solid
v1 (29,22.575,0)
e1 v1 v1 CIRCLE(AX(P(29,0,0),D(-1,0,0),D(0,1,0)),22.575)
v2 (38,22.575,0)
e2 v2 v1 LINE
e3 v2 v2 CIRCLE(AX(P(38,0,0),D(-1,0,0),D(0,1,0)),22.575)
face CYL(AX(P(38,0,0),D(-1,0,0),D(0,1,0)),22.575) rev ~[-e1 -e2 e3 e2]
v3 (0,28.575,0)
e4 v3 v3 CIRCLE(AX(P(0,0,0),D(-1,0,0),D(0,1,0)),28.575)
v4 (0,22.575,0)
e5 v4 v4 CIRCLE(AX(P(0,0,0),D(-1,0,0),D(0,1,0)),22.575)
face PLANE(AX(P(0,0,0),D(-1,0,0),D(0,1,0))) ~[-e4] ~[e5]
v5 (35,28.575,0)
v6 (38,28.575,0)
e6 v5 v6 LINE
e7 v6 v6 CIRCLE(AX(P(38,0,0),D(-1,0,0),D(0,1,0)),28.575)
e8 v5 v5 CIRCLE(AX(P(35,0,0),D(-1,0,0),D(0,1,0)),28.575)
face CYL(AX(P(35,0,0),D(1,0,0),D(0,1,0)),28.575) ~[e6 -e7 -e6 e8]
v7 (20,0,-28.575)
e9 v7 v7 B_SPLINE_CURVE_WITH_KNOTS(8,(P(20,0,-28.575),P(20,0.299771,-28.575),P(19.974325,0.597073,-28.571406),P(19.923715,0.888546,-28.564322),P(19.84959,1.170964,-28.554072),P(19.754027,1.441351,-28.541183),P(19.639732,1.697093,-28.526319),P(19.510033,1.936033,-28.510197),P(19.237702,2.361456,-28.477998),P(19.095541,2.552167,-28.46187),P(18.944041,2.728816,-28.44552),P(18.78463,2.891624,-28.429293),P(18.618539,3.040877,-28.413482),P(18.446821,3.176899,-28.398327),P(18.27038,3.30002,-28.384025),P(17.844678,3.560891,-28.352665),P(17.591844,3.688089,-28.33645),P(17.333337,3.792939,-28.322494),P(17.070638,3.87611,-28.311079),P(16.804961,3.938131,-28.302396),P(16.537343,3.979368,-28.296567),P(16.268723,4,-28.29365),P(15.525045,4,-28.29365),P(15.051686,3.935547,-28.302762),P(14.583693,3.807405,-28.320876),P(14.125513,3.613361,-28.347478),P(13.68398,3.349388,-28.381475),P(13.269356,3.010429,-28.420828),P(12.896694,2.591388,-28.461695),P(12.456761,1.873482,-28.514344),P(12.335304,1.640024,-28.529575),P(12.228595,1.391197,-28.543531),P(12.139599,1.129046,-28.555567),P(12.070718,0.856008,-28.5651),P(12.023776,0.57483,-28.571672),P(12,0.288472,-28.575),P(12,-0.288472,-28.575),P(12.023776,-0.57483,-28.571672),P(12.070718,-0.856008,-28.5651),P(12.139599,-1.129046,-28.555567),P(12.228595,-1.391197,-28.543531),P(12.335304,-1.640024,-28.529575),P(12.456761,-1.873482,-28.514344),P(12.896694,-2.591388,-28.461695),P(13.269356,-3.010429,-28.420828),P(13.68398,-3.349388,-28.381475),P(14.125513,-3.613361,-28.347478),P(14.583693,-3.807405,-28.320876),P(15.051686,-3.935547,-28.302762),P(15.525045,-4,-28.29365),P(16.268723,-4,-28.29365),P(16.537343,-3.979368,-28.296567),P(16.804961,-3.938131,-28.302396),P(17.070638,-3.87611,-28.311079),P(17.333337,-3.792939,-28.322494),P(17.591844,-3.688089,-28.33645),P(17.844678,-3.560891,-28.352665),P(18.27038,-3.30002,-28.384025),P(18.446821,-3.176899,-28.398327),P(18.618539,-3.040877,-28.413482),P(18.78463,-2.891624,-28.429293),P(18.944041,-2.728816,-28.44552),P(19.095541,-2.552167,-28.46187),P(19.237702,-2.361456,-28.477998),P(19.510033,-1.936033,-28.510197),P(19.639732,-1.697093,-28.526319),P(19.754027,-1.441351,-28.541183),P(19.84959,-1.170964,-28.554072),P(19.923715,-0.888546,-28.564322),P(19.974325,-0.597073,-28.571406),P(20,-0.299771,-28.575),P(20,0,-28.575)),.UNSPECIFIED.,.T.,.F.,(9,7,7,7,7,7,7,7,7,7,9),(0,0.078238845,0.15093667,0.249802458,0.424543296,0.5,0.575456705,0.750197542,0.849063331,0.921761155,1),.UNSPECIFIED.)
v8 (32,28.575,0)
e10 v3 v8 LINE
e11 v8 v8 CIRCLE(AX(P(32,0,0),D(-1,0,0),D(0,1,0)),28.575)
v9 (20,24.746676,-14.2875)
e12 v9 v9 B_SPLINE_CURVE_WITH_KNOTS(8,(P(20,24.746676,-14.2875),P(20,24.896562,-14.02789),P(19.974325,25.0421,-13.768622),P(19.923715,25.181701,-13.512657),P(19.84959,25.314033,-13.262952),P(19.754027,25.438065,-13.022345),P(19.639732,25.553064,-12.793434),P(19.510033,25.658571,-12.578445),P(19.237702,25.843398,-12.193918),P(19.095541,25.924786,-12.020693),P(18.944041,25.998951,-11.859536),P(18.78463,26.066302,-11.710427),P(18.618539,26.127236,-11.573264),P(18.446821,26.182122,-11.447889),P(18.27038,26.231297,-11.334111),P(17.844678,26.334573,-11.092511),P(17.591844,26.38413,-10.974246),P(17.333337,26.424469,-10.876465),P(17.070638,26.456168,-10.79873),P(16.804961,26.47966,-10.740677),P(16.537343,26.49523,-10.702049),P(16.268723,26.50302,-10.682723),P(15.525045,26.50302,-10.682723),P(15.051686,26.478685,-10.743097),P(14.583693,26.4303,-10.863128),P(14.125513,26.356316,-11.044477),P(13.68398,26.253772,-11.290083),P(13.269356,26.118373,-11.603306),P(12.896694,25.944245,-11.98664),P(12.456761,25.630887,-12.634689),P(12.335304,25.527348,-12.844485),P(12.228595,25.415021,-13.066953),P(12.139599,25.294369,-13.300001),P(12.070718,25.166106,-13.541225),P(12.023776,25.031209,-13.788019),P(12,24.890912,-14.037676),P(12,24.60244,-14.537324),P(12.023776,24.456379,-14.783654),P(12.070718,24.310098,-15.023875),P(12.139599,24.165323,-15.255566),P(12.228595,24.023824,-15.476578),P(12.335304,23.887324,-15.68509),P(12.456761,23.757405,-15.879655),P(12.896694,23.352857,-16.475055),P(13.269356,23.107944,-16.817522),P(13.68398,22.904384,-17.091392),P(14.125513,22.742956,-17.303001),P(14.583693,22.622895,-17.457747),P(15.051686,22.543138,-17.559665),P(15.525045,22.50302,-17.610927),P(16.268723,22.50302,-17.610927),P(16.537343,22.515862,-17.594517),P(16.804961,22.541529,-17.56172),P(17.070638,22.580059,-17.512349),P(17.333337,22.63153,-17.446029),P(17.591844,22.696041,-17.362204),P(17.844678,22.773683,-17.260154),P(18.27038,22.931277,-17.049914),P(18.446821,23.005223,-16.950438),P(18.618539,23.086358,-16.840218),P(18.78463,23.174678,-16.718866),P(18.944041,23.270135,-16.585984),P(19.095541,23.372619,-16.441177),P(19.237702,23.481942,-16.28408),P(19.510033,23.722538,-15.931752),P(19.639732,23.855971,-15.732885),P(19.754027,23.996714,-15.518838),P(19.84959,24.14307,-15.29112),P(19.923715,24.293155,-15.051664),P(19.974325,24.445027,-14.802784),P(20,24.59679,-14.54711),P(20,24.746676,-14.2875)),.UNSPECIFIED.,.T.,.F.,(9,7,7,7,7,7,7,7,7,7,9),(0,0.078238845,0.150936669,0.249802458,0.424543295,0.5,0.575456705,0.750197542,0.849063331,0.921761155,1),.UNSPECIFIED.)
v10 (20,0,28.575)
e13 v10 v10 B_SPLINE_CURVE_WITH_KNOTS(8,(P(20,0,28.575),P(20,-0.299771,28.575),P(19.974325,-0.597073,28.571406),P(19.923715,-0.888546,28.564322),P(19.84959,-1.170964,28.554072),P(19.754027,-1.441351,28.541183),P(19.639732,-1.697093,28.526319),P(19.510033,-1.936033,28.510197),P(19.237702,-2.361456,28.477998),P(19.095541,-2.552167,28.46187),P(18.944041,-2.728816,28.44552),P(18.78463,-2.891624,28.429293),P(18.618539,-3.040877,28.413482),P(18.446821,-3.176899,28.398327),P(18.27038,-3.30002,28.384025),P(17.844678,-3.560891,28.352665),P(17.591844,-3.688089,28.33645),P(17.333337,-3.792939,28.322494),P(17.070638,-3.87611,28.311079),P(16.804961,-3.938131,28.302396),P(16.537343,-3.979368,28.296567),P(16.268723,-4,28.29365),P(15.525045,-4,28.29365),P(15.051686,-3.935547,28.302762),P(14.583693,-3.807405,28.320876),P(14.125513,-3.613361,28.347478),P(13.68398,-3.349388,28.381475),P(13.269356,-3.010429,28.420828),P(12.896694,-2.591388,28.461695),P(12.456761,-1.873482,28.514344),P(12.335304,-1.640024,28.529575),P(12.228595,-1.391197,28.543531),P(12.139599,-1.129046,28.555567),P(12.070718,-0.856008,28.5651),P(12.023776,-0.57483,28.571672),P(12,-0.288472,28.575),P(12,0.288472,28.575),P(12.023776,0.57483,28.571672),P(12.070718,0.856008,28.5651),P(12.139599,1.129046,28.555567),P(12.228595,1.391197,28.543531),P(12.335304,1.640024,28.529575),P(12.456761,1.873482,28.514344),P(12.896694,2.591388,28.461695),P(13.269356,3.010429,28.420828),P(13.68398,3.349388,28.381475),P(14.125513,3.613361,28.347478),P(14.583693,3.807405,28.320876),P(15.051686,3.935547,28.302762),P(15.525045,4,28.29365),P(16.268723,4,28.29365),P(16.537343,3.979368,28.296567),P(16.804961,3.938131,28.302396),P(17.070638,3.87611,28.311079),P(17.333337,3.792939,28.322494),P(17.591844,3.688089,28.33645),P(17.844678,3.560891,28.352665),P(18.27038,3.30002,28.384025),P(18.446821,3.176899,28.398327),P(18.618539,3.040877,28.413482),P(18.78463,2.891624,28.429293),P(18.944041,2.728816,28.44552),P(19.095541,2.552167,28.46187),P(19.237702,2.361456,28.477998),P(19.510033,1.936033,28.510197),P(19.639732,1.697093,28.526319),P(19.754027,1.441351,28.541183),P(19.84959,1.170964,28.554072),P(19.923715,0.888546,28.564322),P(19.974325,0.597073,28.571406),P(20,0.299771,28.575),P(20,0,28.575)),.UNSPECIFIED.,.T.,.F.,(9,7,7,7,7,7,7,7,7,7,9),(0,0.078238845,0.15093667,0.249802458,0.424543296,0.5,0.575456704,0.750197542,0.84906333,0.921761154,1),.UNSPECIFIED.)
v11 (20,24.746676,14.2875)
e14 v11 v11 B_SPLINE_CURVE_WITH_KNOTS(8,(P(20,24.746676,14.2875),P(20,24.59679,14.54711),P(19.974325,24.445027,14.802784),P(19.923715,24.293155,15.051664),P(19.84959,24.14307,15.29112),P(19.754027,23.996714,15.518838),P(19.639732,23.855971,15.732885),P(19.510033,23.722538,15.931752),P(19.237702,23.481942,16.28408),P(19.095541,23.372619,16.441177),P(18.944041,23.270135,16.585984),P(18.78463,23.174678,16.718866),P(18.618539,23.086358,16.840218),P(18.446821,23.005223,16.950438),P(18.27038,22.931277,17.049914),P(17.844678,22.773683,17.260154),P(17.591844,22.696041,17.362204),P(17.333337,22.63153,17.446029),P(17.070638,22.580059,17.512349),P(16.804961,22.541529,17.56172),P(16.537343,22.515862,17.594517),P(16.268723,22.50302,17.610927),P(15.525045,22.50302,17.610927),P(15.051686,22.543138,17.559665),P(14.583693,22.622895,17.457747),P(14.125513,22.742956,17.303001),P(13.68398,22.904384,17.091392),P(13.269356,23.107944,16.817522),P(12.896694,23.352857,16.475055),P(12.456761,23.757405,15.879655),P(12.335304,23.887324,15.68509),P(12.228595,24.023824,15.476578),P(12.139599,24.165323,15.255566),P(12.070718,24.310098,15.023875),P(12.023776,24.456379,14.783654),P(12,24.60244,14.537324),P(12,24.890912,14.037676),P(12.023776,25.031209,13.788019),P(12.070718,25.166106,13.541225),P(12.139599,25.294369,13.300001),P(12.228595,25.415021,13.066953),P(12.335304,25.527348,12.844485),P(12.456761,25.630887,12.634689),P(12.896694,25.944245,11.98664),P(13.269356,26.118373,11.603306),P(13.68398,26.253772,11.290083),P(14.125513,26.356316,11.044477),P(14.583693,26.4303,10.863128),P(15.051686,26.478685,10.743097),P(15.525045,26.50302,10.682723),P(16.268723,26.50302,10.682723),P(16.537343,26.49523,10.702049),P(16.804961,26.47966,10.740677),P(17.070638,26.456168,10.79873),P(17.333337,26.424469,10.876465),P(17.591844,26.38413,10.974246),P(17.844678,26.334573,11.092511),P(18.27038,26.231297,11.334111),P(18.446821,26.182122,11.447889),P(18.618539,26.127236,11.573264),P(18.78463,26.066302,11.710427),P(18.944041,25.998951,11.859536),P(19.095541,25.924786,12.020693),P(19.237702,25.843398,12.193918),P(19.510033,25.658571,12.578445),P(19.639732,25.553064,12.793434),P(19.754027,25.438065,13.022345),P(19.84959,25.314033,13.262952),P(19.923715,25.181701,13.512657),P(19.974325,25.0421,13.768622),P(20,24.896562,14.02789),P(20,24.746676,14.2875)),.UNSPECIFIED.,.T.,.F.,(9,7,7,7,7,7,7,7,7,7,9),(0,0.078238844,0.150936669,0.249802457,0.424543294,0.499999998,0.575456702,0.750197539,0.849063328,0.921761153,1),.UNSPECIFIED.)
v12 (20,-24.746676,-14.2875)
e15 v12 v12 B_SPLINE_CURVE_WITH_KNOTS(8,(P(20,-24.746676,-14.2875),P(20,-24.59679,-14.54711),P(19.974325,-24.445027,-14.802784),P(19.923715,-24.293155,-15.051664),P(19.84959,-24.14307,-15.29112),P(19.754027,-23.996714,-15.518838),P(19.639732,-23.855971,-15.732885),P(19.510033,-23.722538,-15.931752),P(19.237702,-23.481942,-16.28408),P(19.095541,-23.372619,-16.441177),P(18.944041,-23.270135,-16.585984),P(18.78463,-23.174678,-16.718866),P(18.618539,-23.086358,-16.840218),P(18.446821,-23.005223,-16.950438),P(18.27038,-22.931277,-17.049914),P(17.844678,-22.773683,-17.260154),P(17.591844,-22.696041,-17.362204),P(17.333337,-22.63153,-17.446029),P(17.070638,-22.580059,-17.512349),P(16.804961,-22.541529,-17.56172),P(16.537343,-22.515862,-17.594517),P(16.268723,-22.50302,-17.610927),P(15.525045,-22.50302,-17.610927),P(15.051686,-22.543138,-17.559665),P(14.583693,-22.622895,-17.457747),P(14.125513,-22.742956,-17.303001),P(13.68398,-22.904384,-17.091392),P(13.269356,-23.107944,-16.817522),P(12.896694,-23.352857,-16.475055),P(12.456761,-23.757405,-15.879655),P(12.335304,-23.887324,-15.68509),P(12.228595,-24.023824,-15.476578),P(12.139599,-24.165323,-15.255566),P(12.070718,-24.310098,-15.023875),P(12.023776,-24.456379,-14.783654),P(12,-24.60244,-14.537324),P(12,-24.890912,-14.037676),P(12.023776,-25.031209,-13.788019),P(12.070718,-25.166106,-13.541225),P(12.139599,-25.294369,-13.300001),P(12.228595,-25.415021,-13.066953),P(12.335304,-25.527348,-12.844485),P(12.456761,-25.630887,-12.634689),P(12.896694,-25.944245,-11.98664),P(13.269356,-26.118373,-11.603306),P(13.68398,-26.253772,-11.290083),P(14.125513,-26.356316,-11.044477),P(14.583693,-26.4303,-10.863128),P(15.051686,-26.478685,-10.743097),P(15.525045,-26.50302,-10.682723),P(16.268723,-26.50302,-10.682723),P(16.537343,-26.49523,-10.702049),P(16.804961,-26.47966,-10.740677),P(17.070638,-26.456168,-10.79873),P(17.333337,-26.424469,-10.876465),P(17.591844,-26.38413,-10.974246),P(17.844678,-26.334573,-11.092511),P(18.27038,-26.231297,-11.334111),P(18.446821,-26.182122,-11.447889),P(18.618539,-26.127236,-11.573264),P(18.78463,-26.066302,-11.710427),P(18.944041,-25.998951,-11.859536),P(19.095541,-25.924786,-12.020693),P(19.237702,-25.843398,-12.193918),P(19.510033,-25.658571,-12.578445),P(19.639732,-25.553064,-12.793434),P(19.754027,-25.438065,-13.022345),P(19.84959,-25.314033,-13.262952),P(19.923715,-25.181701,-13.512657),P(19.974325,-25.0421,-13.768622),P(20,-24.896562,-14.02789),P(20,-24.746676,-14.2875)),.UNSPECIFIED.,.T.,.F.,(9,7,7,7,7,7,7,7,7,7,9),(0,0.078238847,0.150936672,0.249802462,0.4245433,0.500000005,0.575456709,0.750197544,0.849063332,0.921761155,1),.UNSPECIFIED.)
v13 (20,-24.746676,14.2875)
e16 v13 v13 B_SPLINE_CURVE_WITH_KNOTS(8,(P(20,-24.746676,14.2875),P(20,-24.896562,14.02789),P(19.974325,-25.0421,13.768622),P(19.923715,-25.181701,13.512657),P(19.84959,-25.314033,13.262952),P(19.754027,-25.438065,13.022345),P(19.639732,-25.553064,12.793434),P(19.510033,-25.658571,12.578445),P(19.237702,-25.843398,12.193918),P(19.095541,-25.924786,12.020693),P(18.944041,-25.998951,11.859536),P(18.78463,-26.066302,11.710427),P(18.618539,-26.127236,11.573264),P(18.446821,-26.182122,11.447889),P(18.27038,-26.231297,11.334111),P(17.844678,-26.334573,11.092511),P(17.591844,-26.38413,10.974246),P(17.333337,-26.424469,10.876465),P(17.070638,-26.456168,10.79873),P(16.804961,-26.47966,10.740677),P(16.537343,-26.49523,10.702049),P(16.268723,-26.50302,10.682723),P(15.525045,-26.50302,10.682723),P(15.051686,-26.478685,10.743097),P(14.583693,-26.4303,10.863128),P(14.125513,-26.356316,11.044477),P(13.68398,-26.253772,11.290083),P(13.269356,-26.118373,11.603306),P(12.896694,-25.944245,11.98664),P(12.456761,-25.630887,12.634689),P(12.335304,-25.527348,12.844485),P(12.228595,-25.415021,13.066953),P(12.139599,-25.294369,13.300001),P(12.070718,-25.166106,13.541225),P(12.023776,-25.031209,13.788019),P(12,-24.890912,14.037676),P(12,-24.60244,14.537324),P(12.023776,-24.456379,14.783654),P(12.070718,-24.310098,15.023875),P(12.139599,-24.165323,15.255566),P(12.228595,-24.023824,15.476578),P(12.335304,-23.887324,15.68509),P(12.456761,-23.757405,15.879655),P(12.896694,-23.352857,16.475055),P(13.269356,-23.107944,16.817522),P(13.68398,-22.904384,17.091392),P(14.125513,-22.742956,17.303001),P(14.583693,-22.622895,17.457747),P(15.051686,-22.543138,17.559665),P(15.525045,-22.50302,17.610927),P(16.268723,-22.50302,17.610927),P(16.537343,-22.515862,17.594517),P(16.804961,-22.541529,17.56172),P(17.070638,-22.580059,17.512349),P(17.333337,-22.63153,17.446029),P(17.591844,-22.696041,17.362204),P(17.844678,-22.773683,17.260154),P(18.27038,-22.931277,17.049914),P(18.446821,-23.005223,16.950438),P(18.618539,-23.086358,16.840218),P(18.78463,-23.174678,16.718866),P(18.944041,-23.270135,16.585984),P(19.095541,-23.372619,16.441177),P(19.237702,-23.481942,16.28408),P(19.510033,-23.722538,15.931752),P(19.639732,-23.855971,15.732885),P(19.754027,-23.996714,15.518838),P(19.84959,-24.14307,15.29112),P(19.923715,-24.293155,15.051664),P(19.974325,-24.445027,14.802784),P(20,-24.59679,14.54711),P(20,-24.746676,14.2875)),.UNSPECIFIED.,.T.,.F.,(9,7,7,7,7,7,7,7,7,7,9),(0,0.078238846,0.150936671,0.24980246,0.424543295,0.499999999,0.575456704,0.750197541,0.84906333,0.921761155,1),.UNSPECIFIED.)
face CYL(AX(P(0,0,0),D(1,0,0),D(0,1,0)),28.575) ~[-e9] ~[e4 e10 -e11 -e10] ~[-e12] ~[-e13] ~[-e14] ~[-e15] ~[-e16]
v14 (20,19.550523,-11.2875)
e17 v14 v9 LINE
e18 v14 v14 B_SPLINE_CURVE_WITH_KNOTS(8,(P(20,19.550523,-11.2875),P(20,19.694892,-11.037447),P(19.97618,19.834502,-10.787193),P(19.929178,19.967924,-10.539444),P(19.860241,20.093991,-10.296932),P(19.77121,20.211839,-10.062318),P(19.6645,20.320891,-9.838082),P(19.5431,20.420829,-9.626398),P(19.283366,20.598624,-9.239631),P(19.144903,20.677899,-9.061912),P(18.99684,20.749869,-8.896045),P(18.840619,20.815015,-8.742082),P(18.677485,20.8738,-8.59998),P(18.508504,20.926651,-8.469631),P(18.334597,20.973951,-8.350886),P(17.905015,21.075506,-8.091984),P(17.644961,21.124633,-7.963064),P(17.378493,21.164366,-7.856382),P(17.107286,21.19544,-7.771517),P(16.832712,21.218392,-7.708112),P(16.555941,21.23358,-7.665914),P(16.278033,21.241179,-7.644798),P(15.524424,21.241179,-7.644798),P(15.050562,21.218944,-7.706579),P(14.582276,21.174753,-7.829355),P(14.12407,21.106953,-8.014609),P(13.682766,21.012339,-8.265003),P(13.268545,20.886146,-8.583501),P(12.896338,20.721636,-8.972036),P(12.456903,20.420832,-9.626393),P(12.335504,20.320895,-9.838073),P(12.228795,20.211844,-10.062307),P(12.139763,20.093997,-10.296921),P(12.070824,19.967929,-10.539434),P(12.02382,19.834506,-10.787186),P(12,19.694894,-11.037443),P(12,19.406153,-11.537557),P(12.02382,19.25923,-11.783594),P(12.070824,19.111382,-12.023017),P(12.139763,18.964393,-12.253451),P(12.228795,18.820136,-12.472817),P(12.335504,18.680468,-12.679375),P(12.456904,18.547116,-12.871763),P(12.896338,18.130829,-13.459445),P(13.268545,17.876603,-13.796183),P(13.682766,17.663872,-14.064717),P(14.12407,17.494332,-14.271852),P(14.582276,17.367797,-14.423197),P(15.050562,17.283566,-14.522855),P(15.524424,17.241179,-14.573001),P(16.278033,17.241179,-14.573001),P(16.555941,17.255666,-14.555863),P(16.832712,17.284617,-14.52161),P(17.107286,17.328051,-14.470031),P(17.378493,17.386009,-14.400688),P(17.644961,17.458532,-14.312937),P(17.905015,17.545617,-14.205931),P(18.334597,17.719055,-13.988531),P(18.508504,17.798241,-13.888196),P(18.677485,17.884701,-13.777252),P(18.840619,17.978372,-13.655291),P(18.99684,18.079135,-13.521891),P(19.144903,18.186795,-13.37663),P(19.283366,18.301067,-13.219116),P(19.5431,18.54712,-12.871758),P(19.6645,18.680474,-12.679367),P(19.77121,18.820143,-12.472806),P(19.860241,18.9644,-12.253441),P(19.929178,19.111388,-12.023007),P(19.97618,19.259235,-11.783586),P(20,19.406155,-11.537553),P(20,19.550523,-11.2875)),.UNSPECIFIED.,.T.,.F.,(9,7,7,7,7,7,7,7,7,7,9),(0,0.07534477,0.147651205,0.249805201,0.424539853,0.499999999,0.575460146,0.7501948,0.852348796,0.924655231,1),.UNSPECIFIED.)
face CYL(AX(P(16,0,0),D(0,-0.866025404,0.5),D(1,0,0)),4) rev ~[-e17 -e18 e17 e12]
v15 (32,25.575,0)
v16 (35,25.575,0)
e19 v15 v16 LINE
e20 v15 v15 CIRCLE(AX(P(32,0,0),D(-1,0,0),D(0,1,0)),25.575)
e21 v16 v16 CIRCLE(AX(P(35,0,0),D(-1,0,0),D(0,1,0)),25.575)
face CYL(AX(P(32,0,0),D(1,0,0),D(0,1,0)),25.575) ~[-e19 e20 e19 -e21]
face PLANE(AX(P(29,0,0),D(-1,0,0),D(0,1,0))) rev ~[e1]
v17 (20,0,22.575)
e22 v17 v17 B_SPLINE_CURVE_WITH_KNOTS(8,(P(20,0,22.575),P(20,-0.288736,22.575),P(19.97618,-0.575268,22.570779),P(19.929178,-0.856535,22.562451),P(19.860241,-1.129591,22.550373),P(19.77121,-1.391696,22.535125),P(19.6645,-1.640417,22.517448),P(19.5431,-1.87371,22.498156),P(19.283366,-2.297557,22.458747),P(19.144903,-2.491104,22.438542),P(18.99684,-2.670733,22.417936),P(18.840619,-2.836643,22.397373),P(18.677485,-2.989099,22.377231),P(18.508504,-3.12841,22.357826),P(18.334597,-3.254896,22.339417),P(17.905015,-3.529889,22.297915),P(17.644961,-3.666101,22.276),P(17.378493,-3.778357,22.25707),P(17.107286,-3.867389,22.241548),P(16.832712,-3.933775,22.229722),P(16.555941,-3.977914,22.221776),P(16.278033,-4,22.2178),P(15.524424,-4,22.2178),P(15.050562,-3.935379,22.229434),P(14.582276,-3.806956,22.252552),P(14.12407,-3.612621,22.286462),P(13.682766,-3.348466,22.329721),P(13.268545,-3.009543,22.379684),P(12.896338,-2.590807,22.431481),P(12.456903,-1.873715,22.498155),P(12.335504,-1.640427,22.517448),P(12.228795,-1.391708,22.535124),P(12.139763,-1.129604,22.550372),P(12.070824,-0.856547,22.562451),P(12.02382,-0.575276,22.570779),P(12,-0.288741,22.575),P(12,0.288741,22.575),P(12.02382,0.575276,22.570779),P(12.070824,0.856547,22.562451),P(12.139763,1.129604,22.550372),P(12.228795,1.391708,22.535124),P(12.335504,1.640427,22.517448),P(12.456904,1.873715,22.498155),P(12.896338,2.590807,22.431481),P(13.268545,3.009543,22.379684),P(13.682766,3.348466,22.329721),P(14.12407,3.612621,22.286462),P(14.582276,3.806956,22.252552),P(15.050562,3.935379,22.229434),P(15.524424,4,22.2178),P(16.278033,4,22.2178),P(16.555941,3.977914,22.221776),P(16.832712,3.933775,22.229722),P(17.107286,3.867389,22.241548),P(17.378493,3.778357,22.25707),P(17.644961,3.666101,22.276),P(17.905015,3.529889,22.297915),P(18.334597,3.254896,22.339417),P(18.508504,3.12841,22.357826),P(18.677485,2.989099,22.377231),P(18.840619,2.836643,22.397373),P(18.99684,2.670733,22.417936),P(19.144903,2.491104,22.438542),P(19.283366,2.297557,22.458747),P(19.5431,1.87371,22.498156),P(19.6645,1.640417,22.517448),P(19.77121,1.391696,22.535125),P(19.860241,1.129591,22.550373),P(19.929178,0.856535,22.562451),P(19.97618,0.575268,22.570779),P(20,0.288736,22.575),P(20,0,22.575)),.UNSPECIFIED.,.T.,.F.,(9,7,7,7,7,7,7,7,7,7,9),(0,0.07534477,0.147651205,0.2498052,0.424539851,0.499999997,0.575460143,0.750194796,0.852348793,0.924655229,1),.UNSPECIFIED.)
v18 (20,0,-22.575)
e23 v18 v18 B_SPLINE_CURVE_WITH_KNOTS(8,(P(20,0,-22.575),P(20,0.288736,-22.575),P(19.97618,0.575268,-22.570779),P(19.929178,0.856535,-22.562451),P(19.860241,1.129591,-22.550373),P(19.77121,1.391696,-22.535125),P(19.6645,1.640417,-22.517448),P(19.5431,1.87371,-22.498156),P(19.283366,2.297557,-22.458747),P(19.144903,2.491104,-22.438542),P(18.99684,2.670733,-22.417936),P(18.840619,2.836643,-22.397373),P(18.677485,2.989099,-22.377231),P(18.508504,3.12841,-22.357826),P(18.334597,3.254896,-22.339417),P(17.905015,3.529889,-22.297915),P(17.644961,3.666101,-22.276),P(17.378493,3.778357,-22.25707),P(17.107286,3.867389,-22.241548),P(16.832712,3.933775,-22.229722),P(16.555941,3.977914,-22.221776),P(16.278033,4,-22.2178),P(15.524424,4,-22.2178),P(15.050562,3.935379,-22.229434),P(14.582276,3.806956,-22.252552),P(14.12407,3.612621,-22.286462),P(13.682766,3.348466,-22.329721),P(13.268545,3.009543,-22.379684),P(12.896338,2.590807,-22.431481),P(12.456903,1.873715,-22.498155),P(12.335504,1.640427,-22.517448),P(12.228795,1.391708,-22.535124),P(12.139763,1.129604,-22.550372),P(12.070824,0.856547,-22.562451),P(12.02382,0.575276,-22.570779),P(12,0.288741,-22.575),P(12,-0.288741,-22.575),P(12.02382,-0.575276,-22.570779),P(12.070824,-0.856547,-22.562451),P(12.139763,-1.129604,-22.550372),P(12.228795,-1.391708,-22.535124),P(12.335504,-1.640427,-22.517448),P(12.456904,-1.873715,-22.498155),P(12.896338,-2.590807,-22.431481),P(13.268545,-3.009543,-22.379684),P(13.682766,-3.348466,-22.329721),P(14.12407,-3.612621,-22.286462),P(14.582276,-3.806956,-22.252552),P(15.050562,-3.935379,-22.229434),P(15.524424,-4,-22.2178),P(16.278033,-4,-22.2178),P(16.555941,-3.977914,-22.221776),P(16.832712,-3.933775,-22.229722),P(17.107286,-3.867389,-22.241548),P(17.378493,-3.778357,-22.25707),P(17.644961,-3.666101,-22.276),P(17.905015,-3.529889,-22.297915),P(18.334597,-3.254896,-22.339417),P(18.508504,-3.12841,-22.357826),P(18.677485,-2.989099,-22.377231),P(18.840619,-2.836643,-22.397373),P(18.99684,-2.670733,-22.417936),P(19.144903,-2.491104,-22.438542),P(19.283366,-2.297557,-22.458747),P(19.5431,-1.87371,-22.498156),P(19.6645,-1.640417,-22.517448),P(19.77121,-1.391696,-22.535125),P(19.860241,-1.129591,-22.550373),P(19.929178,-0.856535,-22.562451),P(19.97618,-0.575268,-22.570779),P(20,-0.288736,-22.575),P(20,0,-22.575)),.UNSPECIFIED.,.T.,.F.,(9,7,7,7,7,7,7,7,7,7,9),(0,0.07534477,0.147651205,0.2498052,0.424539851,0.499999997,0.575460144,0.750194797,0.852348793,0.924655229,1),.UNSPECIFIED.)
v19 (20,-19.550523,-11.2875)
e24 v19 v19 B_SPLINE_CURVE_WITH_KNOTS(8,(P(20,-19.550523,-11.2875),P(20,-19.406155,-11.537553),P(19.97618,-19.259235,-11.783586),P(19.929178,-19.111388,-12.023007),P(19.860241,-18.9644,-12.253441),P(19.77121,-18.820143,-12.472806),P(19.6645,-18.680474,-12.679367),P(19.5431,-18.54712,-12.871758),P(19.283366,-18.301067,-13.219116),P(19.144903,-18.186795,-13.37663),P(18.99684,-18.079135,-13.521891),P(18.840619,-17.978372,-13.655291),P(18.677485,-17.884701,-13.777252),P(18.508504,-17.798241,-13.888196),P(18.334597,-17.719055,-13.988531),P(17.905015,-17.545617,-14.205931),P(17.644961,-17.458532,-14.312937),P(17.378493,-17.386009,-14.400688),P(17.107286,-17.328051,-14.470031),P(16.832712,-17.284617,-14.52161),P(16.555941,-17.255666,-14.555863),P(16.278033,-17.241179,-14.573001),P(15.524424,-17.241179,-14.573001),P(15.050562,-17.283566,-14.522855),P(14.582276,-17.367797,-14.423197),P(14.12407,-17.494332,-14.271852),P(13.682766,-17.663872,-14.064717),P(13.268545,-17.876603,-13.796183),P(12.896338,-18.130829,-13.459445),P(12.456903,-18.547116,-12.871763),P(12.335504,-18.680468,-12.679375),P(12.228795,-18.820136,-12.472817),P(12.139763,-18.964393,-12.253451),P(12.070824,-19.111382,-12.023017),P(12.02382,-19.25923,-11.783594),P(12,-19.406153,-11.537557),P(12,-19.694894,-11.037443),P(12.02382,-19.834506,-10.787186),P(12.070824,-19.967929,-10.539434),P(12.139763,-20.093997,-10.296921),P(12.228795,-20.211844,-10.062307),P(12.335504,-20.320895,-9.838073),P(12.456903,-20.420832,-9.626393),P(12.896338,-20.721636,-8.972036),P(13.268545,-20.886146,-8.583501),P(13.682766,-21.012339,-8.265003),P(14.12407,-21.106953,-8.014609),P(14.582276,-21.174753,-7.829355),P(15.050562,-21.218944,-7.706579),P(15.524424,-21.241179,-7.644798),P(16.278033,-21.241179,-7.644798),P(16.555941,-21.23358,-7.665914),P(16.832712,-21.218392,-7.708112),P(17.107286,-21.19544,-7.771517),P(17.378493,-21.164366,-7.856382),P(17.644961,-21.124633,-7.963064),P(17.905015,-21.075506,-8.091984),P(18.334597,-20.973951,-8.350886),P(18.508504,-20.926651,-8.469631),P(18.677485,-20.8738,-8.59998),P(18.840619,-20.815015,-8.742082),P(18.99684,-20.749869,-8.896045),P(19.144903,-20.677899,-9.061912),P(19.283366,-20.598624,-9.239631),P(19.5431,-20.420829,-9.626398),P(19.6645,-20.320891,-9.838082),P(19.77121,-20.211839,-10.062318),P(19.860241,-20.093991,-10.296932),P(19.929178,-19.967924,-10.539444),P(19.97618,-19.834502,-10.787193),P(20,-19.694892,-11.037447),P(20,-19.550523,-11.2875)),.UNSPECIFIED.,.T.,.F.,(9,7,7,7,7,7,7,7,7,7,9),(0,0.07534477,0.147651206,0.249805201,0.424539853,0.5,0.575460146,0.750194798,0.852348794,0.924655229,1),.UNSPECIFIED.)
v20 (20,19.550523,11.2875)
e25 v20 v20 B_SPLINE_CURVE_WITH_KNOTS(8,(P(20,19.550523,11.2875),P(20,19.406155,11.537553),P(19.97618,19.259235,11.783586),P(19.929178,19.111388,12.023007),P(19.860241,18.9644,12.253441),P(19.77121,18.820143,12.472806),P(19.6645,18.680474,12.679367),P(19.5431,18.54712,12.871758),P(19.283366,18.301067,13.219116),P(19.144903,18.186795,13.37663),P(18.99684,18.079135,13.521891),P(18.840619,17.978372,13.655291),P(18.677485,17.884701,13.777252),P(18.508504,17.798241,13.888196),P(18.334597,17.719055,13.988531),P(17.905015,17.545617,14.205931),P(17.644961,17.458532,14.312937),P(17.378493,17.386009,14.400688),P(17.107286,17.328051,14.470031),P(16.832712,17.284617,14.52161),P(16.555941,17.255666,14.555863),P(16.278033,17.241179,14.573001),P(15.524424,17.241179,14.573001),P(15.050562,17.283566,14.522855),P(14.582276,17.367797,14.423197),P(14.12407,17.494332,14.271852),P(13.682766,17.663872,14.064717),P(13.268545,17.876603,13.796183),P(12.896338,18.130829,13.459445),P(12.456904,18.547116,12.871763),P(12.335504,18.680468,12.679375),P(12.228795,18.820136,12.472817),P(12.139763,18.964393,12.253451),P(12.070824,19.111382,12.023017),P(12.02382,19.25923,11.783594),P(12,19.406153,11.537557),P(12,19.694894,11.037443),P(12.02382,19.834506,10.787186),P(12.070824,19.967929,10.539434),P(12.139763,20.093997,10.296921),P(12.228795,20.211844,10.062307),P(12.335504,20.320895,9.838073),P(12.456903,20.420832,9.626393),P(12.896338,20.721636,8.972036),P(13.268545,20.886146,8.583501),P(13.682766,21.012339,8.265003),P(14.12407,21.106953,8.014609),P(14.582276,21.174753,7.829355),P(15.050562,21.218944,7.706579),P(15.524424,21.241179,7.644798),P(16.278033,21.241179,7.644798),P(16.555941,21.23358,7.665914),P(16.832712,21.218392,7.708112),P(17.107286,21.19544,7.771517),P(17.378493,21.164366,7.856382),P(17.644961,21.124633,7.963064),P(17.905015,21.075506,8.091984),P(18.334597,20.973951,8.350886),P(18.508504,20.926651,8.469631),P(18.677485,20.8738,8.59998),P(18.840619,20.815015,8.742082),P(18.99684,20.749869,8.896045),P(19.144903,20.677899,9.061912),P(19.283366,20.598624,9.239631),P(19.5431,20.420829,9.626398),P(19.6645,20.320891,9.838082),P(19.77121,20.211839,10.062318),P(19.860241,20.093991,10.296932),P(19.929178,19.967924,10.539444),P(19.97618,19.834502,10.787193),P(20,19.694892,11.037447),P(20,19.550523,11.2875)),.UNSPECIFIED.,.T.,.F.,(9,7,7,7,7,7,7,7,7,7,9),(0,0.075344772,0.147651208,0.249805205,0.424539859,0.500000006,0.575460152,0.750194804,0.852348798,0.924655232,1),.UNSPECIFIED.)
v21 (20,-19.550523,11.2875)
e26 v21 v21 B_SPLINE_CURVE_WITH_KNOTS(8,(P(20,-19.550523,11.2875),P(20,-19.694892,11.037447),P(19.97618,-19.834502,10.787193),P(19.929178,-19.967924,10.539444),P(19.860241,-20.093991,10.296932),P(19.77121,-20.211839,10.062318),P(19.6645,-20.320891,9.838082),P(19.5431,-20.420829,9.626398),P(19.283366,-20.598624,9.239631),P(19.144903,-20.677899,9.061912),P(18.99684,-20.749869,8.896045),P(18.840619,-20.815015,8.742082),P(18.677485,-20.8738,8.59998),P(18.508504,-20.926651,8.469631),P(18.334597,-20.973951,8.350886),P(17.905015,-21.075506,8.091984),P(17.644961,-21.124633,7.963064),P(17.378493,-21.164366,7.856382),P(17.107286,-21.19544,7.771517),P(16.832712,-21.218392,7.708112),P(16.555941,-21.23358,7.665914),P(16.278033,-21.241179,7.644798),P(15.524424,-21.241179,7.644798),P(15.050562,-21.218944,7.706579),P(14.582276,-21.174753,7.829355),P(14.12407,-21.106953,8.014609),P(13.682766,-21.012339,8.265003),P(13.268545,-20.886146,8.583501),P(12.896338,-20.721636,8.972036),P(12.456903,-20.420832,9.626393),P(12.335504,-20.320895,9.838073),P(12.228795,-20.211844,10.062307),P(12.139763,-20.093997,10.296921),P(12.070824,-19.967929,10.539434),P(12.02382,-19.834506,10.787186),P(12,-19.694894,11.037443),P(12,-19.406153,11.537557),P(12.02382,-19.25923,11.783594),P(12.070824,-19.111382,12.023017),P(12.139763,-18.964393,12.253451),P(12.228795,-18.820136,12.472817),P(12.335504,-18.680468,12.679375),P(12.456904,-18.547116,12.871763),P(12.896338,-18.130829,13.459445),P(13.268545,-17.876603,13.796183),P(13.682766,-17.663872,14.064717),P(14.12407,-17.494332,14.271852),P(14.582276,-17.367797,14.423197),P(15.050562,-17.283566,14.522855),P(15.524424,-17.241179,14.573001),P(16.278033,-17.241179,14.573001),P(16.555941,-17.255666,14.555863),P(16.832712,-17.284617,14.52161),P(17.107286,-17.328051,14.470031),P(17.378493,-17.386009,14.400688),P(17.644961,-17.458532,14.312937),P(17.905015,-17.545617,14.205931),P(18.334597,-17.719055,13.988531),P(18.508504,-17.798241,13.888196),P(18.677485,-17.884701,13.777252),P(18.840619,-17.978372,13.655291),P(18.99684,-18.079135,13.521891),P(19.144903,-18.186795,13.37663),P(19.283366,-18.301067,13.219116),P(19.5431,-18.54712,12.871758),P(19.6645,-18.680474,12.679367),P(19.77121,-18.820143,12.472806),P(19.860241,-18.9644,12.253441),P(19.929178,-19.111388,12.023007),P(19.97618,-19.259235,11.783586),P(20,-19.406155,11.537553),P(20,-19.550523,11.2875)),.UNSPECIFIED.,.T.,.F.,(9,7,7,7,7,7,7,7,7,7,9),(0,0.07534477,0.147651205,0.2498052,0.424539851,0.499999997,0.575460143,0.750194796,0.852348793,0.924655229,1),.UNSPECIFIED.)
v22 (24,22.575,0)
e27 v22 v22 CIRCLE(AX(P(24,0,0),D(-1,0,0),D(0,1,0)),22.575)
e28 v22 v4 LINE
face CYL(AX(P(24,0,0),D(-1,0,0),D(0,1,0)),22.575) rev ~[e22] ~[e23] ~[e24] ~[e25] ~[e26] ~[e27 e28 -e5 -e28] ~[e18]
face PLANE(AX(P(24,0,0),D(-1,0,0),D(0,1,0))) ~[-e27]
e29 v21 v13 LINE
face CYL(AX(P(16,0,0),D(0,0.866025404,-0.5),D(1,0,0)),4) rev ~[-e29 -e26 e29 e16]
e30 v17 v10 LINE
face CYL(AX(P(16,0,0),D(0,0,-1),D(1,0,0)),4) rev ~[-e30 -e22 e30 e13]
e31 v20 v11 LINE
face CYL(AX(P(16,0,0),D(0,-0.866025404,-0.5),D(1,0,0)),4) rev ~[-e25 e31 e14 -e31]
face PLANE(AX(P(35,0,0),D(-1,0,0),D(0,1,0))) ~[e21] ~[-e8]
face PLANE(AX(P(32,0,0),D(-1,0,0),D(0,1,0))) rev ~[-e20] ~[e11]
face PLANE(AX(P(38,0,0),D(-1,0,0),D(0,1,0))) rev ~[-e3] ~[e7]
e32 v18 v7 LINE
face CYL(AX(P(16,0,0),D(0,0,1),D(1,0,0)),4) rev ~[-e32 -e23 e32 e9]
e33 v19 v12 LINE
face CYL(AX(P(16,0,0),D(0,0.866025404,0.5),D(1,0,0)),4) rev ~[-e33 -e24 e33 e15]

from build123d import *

# Parameters (mm, degrees)
ESBO_O2_R             = 4
CORTE_EXTRUS_O1_DEPTH = 60
PADR_OCIRCULAR1_COUNT = 6


with BuildPart() as part:
    # Esboço1 → Revolução1 (revolve)
    with BuildSketch(Plane.XY):
        Polygon((35, 28.575), (38, 28.575), (38, 22.575), (29, 22.575), (29, 0), (24, 0), (24, 22.575), (0, 22.575), (0, 28.575), (32, 28.575), (32, 25.575), (35, 25.575), align=None)
    revolve(axis=Axis((0, 0, 0), (-1, 0, 0)))

    # Esboço2 → Corte-extrusão1 (cut)
    with BuildSketch(Plane.XY):
        with Locations((16, 0)):
            Circle(ESBO_O2_R)
    corte_extrus_o1 = extrude(amount=-CORTE_EXTRUS_O1_DEPTH, mode=Mode.SUBTRACT)

    # PadrãoCircular1: Corte-extrusão1 ×6 about axis
    padr_ocircular1_axis = Axis((0, 0, 0), (1, 0, 0))
    for i in range(1, PADR_OCIRCULAR1_COUNT):
        add(corte_extrus_o1.rotate(padr_ocircular1_axis, i * 360 / PADR_OCIRCULAR1_COUNT), mode=Mode.SUBTRACT)


solid = part.part
